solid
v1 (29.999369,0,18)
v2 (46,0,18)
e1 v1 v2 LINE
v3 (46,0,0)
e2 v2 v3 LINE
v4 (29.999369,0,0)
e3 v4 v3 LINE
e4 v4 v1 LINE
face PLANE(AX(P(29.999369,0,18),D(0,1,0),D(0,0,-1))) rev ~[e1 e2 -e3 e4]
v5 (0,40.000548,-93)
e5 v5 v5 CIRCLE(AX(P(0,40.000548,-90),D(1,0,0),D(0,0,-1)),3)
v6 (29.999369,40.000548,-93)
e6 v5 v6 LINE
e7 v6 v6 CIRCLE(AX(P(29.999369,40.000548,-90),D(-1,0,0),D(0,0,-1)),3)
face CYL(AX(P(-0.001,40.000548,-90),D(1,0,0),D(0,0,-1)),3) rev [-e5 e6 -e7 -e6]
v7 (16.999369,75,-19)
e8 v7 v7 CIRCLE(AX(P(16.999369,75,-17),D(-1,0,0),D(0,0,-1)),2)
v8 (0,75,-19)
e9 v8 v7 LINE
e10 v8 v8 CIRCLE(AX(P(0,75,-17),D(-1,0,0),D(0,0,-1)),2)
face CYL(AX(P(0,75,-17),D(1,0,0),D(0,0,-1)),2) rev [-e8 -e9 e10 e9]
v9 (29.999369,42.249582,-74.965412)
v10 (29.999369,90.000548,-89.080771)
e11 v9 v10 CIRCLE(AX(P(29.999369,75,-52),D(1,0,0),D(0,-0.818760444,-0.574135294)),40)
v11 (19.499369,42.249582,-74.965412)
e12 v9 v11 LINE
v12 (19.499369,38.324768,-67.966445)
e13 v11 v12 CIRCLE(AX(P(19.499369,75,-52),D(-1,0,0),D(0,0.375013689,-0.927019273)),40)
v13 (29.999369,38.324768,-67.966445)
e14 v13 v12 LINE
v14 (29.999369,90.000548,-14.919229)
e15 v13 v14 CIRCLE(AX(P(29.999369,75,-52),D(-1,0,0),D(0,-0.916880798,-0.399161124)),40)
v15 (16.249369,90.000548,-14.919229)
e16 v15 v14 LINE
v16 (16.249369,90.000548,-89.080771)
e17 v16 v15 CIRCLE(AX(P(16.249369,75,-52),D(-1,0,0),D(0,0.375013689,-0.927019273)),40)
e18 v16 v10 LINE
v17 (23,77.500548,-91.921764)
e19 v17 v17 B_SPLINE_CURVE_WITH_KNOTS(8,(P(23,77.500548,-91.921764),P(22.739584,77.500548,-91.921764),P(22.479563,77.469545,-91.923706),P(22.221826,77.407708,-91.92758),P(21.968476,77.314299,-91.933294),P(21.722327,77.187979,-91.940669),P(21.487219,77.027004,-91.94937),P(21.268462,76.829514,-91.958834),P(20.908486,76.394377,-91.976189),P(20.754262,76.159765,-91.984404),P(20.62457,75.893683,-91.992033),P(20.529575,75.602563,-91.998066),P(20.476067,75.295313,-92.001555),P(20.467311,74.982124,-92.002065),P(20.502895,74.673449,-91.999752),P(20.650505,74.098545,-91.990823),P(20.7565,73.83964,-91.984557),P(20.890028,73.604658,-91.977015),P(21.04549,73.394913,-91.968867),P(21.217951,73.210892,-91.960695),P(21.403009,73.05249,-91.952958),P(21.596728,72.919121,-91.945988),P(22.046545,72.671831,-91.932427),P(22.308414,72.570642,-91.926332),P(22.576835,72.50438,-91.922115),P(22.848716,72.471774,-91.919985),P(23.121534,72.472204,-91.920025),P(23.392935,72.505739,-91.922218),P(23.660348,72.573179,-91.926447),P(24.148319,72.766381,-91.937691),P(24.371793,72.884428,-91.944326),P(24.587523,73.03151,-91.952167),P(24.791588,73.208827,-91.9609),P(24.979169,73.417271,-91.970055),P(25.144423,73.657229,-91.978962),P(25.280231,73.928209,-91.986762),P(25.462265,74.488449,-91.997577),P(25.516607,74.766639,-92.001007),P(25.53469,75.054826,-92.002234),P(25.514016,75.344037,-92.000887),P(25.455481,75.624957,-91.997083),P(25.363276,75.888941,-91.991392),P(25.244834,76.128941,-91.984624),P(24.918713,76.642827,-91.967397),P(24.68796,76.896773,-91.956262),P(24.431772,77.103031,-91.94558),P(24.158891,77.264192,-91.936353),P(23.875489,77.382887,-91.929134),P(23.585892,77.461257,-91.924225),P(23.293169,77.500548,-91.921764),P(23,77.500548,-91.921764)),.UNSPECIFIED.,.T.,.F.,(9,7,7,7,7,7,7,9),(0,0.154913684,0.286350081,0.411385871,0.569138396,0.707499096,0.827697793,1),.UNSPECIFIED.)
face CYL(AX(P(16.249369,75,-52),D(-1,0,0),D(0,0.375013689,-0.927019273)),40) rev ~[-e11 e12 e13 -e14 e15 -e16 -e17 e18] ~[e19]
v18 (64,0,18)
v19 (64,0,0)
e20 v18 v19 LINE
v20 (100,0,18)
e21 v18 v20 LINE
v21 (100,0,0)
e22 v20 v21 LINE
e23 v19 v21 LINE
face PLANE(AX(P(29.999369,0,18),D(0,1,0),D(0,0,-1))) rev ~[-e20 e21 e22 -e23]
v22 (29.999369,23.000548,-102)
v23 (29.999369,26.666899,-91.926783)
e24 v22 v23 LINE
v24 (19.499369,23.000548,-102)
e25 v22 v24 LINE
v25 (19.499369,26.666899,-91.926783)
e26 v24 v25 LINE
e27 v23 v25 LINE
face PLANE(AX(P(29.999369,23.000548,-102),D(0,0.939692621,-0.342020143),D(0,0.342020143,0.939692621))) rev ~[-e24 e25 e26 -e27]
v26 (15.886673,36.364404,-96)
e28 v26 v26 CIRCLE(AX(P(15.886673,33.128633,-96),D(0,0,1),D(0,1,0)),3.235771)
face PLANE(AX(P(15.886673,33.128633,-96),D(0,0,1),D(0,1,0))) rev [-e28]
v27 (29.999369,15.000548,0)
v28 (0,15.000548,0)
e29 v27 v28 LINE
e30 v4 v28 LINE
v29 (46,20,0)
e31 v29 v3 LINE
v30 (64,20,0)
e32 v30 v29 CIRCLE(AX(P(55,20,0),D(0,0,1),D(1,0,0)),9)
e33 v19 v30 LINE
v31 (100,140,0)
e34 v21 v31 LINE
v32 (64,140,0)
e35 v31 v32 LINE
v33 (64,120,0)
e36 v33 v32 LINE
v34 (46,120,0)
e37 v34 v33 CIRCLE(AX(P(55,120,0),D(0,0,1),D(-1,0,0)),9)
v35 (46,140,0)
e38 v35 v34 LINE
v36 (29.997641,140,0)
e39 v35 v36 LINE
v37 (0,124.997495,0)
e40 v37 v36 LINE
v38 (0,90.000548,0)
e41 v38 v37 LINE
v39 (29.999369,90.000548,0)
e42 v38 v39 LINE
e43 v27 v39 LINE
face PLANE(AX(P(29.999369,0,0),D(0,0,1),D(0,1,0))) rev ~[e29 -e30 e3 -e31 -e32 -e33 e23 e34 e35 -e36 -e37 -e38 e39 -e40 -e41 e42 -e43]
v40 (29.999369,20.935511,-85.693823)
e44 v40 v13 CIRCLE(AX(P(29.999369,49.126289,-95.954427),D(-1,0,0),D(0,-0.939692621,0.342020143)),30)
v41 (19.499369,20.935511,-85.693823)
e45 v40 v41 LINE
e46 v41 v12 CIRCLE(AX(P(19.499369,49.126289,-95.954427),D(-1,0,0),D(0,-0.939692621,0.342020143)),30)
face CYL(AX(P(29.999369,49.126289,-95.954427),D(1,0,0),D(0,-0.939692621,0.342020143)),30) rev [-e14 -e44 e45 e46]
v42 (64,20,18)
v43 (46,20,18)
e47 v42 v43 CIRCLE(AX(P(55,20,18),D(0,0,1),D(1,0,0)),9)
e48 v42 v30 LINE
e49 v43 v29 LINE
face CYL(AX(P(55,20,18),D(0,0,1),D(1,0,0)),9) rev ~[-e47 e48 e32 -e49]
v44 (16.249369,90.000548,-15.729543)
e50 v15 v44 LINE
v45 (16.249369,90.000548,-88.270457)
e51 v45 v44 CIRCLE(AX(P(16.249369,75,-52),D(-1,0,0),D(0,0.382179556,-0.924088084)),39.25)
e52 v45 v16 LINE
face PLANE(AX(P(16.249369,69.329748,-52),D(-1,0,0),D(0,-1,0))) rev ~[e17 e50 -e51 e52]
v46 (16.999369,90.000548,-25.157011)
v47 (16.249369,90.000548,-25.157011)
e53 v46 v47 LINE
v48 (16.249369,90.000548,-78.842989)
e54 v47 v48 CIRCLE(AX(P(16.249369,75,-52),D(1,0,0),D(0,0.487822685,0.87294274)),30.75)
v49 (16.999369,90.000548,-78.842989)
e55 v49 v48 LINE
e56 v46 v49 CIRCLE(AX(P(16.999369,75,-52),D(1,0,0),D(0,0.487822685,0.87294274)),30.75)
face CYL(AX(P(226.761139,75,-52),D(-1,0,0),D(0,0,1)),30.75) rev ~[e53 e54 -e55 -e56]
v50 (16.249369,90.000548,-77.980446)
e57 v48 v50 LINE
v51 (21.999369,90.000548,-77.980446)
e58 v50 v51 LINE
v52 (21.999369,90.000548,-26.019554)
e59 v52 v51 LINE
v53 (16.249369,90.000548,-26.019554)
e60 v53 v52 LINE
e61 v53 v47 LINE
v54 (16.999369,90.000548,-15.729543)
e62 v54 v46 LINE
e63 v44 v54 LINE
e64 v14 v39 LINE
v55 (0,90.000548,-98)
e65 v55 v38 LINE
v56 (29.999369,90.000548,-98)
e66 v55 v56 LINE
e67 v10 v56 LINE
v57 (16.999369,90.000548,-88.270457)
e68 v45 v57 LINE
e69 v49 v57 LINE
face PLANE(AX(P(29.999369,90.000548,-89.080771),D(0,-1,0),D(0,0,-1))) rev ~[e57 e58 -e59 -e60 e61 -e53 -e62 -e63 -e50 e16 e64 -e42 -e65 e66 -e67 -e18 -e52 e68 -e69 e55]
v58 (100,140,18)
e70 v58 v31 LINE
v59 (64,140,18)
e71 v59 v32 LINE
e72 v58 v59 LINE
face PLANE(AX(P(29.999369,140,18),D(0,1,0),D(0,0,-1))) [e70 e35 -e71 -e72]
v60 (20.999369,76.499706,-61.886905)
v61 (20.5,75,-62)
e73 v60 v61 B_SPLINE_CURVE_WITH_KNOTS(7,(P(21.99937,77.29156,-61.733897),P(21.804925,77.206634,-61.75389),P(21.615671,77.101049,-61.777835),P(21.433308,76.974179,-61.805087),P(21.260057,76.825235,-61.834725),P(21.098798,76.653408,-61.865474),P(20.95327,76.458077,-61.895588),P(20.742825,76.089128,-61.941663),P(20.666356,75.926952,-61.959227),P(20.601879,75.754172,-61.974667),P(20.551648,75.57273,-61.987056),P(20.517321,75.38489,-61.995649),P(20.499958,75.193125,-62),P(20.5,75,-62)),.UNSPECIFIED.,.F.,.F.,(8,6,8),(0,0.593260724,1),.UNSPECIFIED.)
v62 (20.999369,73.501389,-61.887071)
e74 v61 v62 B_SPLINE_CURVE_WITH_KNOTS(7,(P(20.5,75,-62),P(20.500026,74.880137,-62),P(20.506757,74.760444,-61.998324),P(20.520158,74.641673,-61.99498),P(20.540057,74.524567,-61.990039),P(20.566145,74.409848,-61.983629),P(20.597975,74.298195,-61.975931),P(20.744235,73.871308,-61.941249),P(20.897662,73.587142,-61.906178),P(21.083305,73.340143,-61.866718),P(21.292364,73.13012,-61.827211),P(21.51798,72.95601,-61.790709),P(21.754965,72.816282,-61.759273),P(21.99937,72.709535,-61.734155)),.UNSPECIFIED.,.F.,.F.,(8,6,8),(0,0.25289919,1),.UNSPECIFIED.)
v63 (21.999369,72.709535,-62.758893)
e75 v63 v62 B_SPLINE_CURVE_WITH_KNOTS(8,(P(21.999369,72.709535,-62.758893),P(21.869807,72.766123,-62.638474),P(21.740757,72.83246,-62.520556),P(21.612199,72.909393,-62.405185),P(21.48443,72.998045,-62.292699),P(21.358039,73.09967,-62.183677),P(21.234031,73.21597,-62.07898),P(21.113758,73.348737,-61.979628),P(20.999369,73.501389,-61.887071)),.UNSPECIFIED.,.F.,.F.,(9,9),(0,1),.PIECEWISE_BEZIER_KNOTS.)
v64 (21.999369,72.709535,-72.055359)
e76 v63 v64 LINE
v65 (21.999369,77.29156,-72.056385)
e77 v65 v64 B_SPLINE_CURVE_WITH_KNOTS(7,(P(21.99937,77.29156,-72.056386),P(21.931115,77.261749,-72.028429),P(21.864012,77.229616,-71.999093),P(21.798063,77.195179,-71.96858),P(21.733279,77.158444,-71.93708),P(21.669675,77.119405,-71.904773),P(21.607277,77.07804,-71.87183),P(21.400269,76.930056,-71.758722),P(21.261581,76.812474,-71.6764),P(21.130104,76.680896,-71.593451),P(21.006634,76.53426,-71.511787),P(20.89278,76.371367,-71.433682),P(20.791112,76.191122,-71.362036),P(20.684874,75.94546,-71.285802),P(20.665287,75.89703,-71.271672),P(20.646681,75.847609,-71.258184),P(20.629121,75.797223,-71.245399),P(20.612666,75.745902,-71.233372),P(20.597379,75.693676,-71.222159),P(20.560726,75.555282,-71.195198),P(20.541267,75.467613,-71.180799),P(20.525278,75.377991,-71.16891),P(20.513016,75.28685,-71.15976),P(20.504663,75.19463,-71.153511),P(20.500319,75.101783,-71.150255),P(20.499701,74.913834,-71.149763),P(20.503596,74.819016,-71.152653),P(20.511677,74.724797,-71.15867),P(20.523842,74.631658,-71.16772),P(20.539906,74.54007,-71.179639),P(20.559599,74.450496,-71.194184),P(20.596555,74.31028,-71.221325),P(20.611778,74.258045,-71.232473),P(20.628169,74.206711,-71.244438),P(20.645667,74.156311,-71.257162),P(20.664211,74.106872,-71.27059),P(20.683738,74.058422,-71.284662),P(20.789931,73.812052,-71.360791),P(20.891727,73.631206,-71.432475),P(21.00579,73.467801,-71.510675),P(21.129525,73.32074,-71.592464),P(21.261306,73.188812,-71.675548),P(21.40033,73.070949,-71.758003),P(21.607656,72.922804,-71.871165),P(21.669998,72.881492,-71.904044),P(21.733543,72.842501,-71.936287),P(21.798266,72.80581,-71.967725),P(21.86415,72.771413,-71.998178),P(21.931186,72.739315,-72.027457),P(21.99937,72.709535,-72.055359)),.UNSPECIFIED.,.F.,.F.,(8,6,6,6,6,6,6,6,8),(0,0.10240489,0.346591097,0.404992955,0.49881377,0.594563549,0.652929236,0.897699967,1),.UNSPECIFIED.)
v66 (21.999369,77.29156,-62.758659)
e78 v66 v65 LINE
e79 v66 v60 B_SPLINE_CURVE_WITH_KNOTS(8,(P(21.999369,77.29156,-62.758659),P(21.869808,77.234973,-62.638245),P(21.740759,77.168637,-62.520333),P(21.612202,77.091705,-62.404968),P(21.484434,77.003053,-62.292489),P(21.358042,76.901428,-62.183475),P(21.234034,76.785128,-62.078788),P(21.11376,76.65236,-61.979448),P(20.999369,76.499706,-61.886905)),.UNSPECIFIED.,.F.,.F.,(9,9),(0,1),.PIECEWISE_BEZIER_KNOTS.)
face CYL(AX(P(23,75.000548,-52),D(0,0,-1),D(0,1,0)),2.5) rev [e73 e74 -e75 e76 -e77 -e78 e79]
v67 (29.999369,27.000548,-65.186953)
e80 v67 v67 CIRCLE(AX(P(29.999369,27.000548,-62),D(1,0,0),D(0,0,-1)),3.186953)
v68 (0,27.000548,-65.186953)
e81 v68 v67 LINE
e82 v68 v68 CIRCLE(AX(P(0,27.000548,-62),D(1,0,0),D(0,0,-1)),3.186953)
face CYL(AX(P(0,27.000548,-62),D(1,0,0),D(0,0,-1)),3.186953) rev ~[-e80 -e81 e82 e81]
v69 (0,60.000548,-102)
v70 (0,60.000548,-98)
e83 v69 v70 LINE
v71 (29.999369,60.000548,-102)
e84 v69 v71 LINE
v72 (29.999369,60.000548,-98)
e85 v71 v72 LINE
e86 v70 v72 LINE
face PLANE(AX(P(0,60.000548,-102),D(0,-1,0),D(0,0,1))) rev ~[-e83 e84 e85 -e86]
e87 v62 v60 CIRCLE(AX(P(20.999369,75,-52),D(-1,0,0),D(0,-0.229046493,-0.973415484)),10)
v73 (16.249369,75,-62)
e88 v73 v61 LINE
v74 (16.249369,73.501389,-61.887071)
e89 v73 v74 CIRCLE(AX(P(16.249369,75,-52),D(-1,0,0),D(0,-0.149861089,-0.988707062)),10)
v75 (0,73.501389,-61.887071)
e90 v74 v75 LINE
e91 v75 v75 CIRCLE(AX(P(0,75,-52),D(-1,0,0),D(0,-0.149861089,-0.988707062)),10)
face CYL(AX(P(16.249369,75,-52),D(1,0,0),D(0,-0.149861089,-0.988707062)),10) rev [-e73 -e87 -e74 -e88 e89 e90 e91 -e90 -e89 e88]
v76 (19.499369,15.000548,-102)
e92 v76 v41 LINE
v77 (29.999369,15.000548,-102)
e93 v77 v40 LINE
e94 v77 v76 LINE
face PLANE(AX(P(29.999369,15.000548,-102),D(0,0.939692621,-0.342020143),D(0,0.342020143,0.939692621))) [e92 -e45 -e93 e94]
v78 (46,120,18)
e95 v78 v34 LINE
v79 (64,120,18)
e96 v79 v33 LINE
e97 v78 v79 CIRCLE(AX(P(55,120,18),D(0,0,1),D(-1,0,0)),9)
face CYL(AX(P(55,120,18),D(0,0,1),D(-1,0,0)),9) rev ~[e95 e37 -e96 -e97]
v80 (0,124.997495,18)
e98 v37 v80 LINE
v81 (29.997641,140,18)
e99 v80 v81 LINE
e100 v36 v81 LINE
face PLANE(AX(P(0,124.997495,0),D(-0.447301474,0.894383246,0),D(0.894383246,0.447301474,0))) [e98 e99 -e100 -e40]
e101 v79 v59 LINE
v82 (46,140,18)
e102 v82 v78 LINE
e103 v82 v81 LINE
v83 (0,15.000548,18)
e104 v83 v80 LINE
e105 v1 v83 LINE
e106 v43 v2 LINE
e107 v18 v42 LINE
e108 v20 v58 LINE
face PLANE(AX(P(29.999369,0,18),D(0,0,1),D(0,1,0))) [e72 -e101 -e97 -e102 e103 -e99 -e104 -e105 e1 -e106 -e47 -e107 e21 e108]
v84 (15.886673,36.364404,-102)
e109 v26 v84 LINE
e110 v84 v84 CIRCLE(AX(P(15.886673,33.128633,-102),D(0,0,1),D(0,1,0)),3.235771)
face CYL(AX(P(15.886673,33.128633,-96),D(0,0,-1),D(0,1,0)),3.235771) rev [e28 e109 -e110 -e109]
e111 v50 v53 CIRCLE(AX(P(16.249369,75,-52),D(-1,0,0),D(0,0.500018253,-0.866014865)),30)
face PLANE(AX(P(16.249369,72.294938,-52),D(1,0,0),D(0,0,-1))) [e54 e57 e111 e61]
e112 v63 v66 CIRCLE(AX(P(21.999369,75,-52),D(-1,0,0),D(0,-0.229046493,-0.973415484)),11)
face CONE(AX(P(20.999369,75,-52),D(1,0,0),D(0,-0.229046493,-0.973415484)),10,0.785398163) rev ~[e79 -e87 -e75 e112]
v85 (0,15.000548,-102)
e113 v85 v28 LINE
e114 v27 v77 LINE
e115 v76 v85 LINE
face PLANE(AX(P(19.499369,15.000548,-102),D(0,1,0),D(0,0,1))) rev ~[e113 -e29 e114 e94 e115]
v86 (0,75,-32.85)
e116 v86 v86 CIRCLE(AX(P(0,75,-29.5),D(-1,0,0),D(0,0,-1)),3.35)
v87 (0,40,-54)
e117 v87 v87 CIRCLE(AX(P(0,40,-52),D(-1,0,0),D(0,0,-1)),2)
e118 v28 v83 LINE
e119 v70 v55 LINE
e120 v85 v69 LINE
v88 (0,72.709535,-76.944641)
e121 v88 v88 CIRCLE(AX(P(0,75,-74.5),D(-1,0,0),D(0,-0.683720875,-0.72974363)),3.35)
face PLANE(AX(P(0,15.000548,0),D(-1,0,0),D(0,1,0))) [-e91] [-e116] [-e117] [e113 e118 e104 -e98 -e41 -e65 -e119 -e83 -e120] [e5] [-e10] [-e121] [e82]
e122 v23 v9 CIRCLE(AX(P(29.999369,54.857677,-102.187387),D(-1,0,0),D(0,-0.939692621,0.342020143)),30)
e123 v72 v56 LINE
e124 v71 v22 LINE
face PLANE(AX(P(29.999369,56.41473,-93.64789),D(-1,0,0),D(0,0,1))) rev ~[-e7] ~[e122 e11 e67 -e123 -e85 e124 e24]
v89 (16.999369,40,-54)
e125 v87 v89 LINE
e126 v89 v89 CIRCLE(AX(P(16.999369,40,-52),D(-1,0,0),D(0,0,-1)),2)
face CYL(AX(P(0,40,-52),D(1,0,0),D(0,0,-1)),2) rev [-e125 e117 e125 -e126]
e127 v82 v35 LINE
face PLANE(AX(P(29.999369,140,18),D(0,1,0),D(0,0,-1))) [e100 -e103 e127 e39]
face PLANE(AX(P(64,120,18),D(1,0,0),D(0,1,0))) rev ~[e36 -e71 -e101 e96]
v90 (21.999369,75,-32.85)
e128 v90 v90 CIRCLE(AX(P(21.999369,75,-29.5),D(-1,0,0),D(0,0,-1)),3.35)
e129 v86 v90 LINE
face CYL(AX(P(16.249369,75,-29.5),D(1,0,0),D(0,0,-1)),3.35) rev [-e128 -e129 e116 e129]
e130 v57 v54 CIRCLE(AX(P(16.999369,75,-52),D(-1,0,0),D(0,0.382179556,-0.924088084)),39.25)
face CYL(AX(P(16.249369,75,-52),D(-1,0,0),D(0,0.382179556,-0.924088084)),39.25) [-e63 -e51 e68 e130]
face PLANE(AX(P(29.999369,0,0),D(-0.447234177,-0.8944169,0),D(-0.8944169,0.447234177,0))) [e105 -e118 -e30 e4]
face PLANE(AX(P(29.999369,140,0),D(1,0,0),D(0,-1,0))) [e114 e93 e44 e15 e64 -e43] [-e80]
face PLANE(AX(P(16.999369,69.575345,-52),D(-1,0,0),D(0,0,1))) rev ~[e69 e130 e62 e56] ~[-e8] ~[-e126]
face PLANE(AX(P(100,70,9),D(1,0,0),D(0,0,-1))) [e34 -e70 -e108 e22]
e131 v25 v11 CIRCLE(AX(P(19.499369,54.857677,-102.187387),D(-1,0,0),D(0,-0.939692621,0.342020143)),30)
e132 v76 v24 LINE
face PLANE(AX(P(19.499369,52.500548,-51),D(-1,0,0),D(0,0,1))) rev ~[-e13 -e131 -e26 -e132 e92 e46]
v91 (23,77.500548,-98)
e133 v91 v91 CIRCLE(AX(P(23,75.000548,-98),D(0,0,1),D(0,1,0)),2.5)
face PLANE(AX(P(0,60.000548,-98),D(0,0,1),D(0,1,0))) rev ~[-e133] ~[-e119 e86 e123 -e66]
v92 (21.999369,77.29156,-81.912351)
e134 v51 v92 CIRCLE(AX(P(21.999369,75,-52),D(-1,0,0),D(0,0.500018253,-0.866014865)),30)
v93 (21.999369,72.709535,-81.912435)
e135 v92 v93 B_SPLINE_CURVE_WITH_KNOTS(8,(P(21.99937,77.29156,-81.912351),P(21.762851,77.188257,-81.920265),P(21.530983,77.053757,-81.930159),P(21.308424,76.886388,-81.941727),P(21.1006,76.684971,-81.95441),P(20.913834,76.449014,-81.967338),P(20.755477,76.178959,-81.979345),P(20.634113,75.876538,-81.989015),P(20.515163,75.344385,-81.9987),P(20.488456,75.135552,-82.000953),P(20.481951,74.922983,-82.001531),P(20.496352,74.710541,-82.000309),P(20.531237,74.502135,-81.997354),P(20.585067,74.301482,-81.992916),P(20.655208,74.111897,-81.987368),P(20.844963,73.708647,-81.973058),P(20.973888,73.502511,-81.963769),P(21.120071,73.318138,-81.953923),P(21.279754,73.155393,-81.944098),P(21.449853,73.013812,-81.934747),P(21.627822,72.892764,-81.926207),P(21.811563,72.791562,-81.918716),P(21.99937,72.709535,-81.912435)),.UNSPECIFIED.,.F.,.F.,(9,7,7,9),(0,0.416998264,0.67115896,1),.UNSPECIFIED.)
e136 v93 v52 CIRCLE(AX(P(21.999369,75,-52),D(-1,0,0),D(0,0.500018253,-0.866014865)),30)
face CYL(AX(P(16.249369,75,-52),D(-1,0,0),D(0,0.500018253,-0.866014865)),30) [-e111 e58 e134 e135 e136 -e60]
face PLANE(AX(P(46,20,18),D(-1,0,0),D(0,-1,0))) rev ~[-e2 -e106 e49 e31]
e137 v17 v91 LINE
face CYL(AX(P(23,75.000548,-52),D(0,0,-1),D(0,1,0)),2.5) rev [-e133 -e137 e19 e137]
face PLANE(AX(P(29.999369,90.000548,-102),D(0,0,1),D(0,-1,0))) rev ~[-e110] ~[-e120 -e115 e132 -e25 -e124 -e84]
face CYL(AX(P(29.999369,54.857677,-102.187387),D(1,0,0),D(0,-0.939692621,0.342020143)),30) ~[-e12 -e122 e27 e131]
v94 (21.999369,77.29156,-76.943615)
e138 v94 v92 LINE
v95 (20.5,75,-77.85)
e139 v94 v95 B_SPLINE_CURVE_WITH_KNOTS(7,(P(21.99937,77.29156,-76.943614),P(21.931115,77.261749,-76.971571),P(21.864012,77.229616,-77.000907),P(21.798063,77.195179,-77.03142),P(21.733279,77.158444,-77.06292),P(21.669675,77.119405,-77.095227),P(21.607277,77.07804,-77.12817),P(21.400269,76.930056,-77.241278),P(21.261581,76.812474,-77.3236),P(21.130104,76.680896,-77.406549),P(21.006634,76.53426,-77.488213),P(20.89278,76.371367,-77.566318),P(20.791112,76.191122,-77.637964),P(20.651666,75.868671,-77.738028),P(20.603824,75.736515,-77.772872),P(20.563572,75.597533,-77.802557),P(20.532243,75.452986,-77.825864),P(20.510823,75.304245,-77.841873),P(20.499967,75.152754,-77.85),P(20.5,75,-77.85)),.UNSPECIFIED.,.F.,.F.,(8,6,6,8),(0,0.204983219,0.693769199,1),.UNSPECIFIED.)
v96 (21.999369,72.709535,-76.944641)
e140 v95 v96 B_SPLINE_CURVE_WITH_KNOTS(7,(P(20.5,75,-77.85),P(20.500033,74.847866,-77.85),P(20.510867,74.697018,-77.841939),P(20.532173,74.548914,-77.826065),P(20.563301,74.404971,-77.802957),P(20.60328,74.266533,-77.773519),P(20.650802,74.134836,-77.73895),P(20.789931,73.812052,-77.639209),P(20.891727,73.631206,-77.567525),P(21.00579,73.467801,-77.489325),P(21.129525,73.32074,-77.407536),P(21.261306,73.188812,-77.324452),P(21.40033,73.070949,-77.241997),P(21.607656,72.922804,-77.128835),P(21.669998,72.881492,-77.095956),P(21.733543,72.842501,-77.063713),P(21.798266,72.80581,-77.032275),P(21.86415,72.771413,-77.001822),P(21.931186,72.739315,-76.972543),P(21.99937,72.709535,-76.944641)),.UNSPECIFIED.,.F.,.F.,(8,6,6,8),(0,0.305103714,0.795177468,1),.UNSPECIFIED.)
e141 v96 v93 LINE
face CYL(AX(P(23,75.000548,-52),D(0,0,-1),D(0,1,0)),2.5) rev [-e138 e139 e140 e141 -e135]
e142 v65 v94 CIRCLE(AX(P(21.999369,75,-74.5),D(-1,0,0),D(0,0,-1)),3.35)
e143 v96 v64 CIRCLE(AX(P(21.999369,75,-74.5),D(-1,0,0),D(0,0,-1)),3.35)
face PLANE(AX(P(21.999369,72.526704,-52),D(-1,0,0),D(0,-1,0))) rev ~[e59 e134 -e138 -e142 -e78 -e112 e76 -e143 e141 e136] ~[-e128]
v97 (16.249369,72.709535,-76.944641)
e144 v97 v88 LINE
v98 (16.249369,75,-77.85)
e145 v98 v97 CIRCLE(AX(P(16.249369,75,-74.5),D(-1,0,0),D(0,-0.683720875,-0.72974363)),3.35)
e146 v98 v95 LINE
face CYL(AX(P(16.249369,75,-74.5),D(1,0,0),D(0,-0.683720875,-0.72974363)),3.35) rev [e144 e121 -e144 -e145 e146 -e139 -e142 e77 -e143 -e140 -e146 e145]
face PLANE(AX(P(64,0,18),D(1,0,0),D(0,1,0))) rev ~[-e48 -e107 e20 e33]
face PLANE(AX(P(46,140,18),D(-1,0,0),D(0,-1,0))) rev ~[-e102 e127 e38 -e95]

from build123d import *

# Parameters (mm, degrees)
EXTRUDE_1_DEPTH                  = 10.5
SKETCH_2_W                       = 102.00000000000001
SKETCH_2_H                       = 75.00000000000009
EXTRUDE_2_DEPTH                  = 19.4993693487819
EXTRUDE_3_DEPTH                  = 18.000000000000004
SKETCH_4_W                       = 18.000000000000004
SKETCH_4_H                       = 140
EXTRUDE_4_DEPTH                  = 70.0006306512181
EXTRUDE_START                    = 10.499999999999998
EXTRUDE_5_DEPTH                  = 10.499999999999998
CUT_EXTRUDE_1_REACH              = 194.401
SKETCH_7_W                       = 4.000000000000014
SKETCH_7_H                       = 29.999999999999993
CUT_EXTRUDE_2_DEPTH              = 201.0099997500125
CUT_EXTRUDE_3_DEPTH              = 210.76176963403032
CUT_EXTRUDE_4_DEPTH              = 210.76176963403032
EXTRUDE_6_DEPTH                  = 0.7500000000000007
HOLE_WIZARD_M521_D               = 61.5
EXTRUDE_7_DEPTH                  = 5.749999999999998
HOLE_WIZARD_6_7_6_7_1_AT_2_COUNT = 2
HOLE_WIZARD_6_7_6_7_1_AT_2_PITCH = 45
HOLE_WIZARD_4_0_4_1_AT_2_COUNT   = 2
HOLE_WIZARD_4_0_4_1_AT_2_PITCH   = 49.49747468305833
CHAMFER_1_SIZE                   = 0.9999999999999991
EXTRUDE_START_2                  = -16.249369
SKETCH_28_R                      = 3.35
SKETCH_28_R_2                    = 9.999999999999993
SKETCH_28_R_3                    = 3.350000000000003
EXTRUDE_8_DEPTH                  = 16.249369


with BuildPart() as part:
    # Эскиз1 → Бобышка-Вытянуть1 (new body)
    with BuildSketch(Plane(origin=(29.9993693487819, 0, 0), x_dir=(0, 0, -1), z_dir=(1, 0, 0))):
        with BuildLine():
            Line((14.919229074297327, 90.0005475751909), (0, 90.0005475751909))
            Line((0, 90.0005475751909), (0, 15.0005475751908))
            Line((0, 15.0005475751908), (102.00000000000001, 15.0005475751908))
            Line((102.00000000000001, 15.0005475751908), (85.69382268537409, 20.93551075238141))
            ThreePointArc((85.69382268537409, 20.93551075238141), (74.94644857866616, 27.70982740688085), (67.9664449575318, 38.324768093192546))
            ThreePointArc((67.9664449575318, 38.324768093192546), (24.088528585175357, 46.3477790832992), (14.919229074297327, 90.0005475751909))
        make_face()
    extrude(amount=-EXTRUDE_1_DEPTH)

    # Эскиз2 → Бобышка-Вытянуть2 (add)
    with BuildSketch(Plane.ZY.offset(-19.4993693487819)):
        with Locations((-51.00000000000001, 52.50054757519085)):
            Rectangle(SKETCH_2_W, SKETCH_2_H)
    extrude(amount=EXTRUDE_2_DEPTH)

    # Эскиз3 → Бобышка-Вытянуть3 (add)
    with BuildSketch(Plane.XY):
        Polygon((29.999369348781915, -6.94e-15), (3.47e-15, 15.000547575190799), (0, 124.997494914823), (29.997641385548, 140), (29.999369348781904, 140), align=None)
    extrude(amount=EXTRUDE_3_DEPTH)

    # Эскиз4 → Бобышка-Вытянуть4 (add)
    with BuildSketch(Plane(origin=(29.9993693487819, 0, 0), x_dir=(0, 0, -1), z_dir=(1, 0, 0))):
        with Locations((-9.000000000000002, 70)):
            Rectangle(SKETCH_4_W, SKETCH_4_H)
    extrude(amount=EXTRUDE_4_DEPTH)

    # Эскиз5 → Бобышка-Вытянуть5 (add)
    with BuildSketch(Plane(origin=(19.4993693487819, 0, 0), x_dir=(0, 0, -1), z_dir=(1, 0, 0)).offset(EXTRUDE_START)):
        with BuildLine():
            Line((89.08077092570272, 90.0005475751909), (102.00000000000001, 90.0005475751909))
            Line((102.00000000000001, 90.0005475751909), (102.00000000000001, 23.000547575190808))
            Line((102.00000000000001, 23.000547575190808), (91.92678266011816, 26.666898850201964))
            ThreePointArc((91.92678266011816, 26.666898850201964), (81.8910585435448, 32.765618882150974), (74.9654117449494, 42.24958224106233))
            ThreePointArc((74.9654117449494, 42.24958224106233), (90.35915387380979, 63.660894475956894), (89.08077092570272, 90.0005475751909))
        make_face()
    extrude(amount=-EXTRUDE_5_DEPTH)

    # Эскиз6 → Вырез-Вытянуть1 (cut, up to next)
    with BuildSketch(Plane(origin=(16.2493693487819, 0, 0), x_dir=(0, -1, 0), z_dir=(-1, 0, 0)), mode=Mode.PRIVATE) as cut_extrude_1_sk1:
        with BuildLine():
            Line((-90.0005475751909, -14.919229074297327), (-90.0005475751909, -89.08077092570272))
            ThreePointArc((-90.0005475751909, -89.08077092570272), (-34.999999999999936, -52), (-90.0005475751909, -14.919229074297327))
        make_face()
    cut_extrude_1_tool1 = extrude(cut_extrude_1_sk1.sketch, amount=-CUT_EXTRUDE_1_REACH, mode=Mode.PRIVATE) & part.part
    add(cut_extrude_1_tool1.solids().sort_by_distance((16.249369, 65.774947, -52))[0], mode=Mode.SUBTRACT)

    # Эскиз7 → Вырез-Вытянуть2 (cut, through all)
    with BuildSketch(Plane.ZY):
        with Locations((-100, 75.0005475751909)):
            Rectangle(SKETCH_7_W, SKETCH_7_H)
    extrude(amount=-CUT_EXTRUDE_2_DEPTH, mode=Mode.SUBTRACT)

    # Эскиз8 → Вырез-Вытянуть3 (cut, through all)
    with BuildSketch(Plane.XY.offset(18.000000000000004)):
        with BuildLine():
            Line((64, 140), (45.999999999999986, 140))
            Line((45.999999999999986, 140), (46, 120))
            ThreePointArc((46, 120), (55, 111), (64, 120))
            Line((64, 120), (64, 140))
        make_face()
    extrude(amount=-CUT_EXTRUDE_3_DEPTH, mode=Mode.SUBTRACT)

    # Эскиз9 → Вырез-Вытянуть4 (cut, through all)
    with BuildSketch(Plane.XY.offset(18.000000000000004)):
        with BuildLine():
            Line((46.00000000000001, 0), (64, 0))
            Line((64, 0), (64, 20.000000000000004))
            ThreePointArc((64, 20.000000000000004), (55, 29), (45.999999999999986, 20.000000000000004))
            Line((45.999999999999986, 20.000000000000004), (46.00000000000001, 0))
        make_face()
    extrude(amount=-CUT_EXTRUDE_4_DEPTH, mode=Mode.SUBTRACT)

    # Эскиз10 → Бобышка-Вытянуть6 (add)
    with BuildSketch(Plane(origin=(16.2493693487819, 0, 0), x_dir=(0, 0, -1), z_dir=(1, 0, 0))):
        with BuildLine():
            Line((15.729542704227807, 90.0005475751909), (88.27045729577222, 90.00054757519085))
            ThreePointArc((88.27045729577222, 90.00054757519085), (51.999999999999986, 35.75000000000001), (15.729542704227807, 90.0005475751909))
        make_face()
    extrude(amount=EXTRUDE_6_DEPTH)

    # Отверстие с зазором M521 (through all)
    with Locations(Plane(origin=(16.999369348781904, 0, 0), x_dir=(0, 0, -1), z_dir=(1, 0, 0))):
        with Locations((52, 75)):
            Hole(HOLE_WIZARD_M521_D / 2)

    # Эскиз14 → Отверстие1 (revolve, cut)
    with BuildSketch(Plane(origin=(29.9993693487819, 27.0005475751908, -62), x_dir=(0, 0, -1), z_dir=(0, 1, 0))):
        Polygon((0, 0), (0, 29.9993693487819), (3.1869530848864884, 29.9993693487819), (3.186953084886492, -8.3e-16), align=None)
    revolve(axis=Axis((-80.0006306512181, 27.0005475751908, -62), (1, 0, 0)), mode=Mode.SUBTRACT)

    # Эскиз20 → Диаметр отверстия Ø4.0 (4)1 (revolve, cut)
    with BuildSketch(Plane(origin=(16.999369348781904, 75, -17), x_dir=(0, 0, -1), z_dir=(0, 1, 0))):
        Polygon((0, 0), (-4.16e-15, 16.999369348781904), (1.9999999999999978, 16.999369348781904), (1.9999999999999896, -1.31e-15), align=None)
    hole_wizard_4_0_4_1 = revolve(axis=Axis((23.349369348781895, 75, -17), (-1, 0, 0)), mode=Mode.SUBTRACT)

    # Диаметр отверстия Ø4.0 (4)1 at 2: Диаметр отверстия Ø4.0 (4)1 ×2
    with Locations(*[Vector(0, -0.7071067811865475, -0.7071067811865477) * (i * HOLE_WIZARD_4_0_4_1_AT_2_PITCH) for i in range(1, HOLE_WIZARD_4_0_4_1_AT_2_COUNT)]):
        add(hole_wizard_4_0_4_1, mode=Mode.SUBTRACT)

    # Эскиз22 → Диаметр отверстия Ø6.0 (6)1 (revolve, cut)
    with BuildSketch(Plane(origin=(29.9993693487819, 40.0005475751908, -90), x_dir=(0, 0, -1), z_dir=(0, 1, 0))):
        Polygon((0, 0), (-7.35e-15, 30.000369348781906), (2.9999999999999867, 30.000369348781906), (2.9999999999999907, -1.19e-15), align=None)
    revolve(axis=Axis((36.34936934878189, 40.0005475751908, -90), (-1, 0, 0)), mode=Mode.SUBTRACT)


with BuildPart() as body_2:
    # Эскиз13 → Бобышка-Вытянуть7 (new body)
    with BuildSketch(Plane(origin=(16.2493693487819, 0, 0), x_dir=(0, -1, 0), z_dir=(-1, 0, 0))):
        with BuildLine():
            Line((-90.0005475751909, -26.01955403684463), (-90.0005475751909, -77.98044596315543))
            ThreePointArc((-90.0005475751909, -77.98044596315543), (-44.99999999999993, -51.99999999999999), (-90.0005475751909, -26.01955403684463))
        make_face()
    extrude(amount=-EXTRUDE_7_DEPTH)

    # Эскиз16 → Диаметр отверстия Ø6.7 (6.7)1 (revolve, cut)
    with BuildSketch(Plane(origin=(21.9993693487819, 75, -74.5), x_dir=(0, 0, -1), z_dir=(0, 1, 0))):
        Polygon((0, 0), (-1.41e-15, 5.749999999999998), (3.3500000000000045, 5.749999999999998), (3.3499999999999934, -1.15e-15), align=None)
    hole_wizard_6_7_6_7_1 = revolve(axis=Axis((28.34936934878189, 75, -74.5), (-1, 0, 0)), mode=Mode.SUBTRACT)

    # Диаметр отверстия Ø6.7 (6.7)1 at 2: Диаметр отверстия Ø6.7 (6.7)1 ×2
    with Locations(*[(0, 0, i * HOLE_WIZARD_6_7_6_7_1_AT_2_PITCH) for i in range(1, HOLE_WIZARD_6_7_6_7_1_AT_2_COUNT)]):
        add(hole_wizard_6_7_6_7_1, mode=Mode.SUBTRACT)

    # Эскиз18 → Диаметр отверстия Ø20.0 (20)1 (revolve, cut)
    with BuildSketch(Plane(origin=(21.9993693487819, 75, -52.00000000000001), x_dir=(0, 0, -1), z_dir=(0, 1, 0))):
        Polygon((0, 0), (-1.41e-15, 5.7510000000000066), (9.99999999999999, 5.7510000000000066), (9.99999999999999, -3.3e-16), align=None)
    revolve(axis=Axis((28.34936934878189, 75, -52.00000000000001), (-1, 0, 0)), mode=Mode.SUBTRACT)


with BuildPart() as hole_wizard_5_0_5_1_tool:
    # Эскиз24 → Диаметр отверстия Ø5.0 (5)1 (revolve)
    with BuildSketch(Plane(origin=(23, 75.0005475751909, -98), x_dir=(0, 1, 0), z_dir=(1, 0, 0))):
        Polygon((0, 0), (-1.127e-14, 45.999999999999986), (2.499999999999981, 45.999999999999986), (2.4999999999999867, -1.25e-15), align=None)
    revolve(axis=Axis((23, 75.0005475751909, -104.35), (0, 0, 1)))


with BuildPart() as part_1:
    add(part.part)

    # Диаметр отверстия Ø5.0 (5)1: cut by hole_wizard_5_0_5_1_tool
    add(hole_wizard_5_0_5_1_tool.part, mode=Mode.SUBTRACT)

    # Эскиз26 → Отверстие с зазором M61 (revolve, cut)
    with BuildSketch(Plane(origin=(15.8866729980809, 33.128633292951, -102.00000000000001), x_dir=(0, 1, 0), z_dir=(1, 0, 0))):
        Polygon((0, 0), (-1.47e-15, 5.999999999999993), (3.2357711959407984, 6.000000000000005), (3.2357711959408, -1.16e-15), align=None)
    revolve(axis=Axis((15.8866729980809, 33.128633292951, -108.35000000000001), (0, 0, 1)), mode=Mode.SUBTRACT)


with BuildPart() as body_2_1:
    add(body_2.part)

    # Диаметр отверстия Ø5.0 (5)1: cut by hole_wizard_5_0_5_1_tool
    add(hole_wizard_5_0_5_1_tool.part, mode=Mode.SUBTRACT)

    # Фаска1
    chamfer_1_edges = [body_2_1.edges().sort_by_distance(p)[0] for p in [
        (21.9993693487819, 74.99943746278025, -42.00000001582242),
    ]]
    chamfer(chamfer_1_edges, length=CHAMFER_1_SIZE)


with BuildPart() as extrude_8_tool:
    # Эскиз28 → Бобышка-Вытянуть8 (new body)
    with BuildSketch(Plane.ZY.offset(EXTRUDE_START_2)):
        with BuildLine():
            Line((-78.84298926059529, 90.0005475751909), (-25.157010739404722, 90.0005475751909))
            ThreePointArc((-25.157010739404722, 90.0005475751909), (-52.000000000000014, 44.250000000000014), (-78.84298926059529, 90.0005475751909))
        make_face()
        with Locations(Location((-29.500000000000004, 75, 0), (0, 0, 180))):
            Circle(SKETCH_28_R, mode=Mode.SUBTRACT)
        with Locations(Location((-52.00000000000001, 75, 0), (0, 0, 188.618876561))):
            Circle(SKETCH_28_R_2, mode=Mode.SUBTRACT)
        with Locations(Location((-74.5, 75, 0), (0, 0, 223.135094042))):
            Circle(SKETCH_28_R_3, mode=Mode.SUBTRACT)
    extrude(amount=EXTRUDE_8_DEPTH)


with BuildPart() as part_2:
    add(part_1.part)


with BuildPart() as part_3:
    # Бобышка-Вытянуть8: joined with extrude_8_tool
    add(part_2.part.fuse(extrude_8_tool.part, body_2_1.part, tol=0.00001))


solid = part_3.part
